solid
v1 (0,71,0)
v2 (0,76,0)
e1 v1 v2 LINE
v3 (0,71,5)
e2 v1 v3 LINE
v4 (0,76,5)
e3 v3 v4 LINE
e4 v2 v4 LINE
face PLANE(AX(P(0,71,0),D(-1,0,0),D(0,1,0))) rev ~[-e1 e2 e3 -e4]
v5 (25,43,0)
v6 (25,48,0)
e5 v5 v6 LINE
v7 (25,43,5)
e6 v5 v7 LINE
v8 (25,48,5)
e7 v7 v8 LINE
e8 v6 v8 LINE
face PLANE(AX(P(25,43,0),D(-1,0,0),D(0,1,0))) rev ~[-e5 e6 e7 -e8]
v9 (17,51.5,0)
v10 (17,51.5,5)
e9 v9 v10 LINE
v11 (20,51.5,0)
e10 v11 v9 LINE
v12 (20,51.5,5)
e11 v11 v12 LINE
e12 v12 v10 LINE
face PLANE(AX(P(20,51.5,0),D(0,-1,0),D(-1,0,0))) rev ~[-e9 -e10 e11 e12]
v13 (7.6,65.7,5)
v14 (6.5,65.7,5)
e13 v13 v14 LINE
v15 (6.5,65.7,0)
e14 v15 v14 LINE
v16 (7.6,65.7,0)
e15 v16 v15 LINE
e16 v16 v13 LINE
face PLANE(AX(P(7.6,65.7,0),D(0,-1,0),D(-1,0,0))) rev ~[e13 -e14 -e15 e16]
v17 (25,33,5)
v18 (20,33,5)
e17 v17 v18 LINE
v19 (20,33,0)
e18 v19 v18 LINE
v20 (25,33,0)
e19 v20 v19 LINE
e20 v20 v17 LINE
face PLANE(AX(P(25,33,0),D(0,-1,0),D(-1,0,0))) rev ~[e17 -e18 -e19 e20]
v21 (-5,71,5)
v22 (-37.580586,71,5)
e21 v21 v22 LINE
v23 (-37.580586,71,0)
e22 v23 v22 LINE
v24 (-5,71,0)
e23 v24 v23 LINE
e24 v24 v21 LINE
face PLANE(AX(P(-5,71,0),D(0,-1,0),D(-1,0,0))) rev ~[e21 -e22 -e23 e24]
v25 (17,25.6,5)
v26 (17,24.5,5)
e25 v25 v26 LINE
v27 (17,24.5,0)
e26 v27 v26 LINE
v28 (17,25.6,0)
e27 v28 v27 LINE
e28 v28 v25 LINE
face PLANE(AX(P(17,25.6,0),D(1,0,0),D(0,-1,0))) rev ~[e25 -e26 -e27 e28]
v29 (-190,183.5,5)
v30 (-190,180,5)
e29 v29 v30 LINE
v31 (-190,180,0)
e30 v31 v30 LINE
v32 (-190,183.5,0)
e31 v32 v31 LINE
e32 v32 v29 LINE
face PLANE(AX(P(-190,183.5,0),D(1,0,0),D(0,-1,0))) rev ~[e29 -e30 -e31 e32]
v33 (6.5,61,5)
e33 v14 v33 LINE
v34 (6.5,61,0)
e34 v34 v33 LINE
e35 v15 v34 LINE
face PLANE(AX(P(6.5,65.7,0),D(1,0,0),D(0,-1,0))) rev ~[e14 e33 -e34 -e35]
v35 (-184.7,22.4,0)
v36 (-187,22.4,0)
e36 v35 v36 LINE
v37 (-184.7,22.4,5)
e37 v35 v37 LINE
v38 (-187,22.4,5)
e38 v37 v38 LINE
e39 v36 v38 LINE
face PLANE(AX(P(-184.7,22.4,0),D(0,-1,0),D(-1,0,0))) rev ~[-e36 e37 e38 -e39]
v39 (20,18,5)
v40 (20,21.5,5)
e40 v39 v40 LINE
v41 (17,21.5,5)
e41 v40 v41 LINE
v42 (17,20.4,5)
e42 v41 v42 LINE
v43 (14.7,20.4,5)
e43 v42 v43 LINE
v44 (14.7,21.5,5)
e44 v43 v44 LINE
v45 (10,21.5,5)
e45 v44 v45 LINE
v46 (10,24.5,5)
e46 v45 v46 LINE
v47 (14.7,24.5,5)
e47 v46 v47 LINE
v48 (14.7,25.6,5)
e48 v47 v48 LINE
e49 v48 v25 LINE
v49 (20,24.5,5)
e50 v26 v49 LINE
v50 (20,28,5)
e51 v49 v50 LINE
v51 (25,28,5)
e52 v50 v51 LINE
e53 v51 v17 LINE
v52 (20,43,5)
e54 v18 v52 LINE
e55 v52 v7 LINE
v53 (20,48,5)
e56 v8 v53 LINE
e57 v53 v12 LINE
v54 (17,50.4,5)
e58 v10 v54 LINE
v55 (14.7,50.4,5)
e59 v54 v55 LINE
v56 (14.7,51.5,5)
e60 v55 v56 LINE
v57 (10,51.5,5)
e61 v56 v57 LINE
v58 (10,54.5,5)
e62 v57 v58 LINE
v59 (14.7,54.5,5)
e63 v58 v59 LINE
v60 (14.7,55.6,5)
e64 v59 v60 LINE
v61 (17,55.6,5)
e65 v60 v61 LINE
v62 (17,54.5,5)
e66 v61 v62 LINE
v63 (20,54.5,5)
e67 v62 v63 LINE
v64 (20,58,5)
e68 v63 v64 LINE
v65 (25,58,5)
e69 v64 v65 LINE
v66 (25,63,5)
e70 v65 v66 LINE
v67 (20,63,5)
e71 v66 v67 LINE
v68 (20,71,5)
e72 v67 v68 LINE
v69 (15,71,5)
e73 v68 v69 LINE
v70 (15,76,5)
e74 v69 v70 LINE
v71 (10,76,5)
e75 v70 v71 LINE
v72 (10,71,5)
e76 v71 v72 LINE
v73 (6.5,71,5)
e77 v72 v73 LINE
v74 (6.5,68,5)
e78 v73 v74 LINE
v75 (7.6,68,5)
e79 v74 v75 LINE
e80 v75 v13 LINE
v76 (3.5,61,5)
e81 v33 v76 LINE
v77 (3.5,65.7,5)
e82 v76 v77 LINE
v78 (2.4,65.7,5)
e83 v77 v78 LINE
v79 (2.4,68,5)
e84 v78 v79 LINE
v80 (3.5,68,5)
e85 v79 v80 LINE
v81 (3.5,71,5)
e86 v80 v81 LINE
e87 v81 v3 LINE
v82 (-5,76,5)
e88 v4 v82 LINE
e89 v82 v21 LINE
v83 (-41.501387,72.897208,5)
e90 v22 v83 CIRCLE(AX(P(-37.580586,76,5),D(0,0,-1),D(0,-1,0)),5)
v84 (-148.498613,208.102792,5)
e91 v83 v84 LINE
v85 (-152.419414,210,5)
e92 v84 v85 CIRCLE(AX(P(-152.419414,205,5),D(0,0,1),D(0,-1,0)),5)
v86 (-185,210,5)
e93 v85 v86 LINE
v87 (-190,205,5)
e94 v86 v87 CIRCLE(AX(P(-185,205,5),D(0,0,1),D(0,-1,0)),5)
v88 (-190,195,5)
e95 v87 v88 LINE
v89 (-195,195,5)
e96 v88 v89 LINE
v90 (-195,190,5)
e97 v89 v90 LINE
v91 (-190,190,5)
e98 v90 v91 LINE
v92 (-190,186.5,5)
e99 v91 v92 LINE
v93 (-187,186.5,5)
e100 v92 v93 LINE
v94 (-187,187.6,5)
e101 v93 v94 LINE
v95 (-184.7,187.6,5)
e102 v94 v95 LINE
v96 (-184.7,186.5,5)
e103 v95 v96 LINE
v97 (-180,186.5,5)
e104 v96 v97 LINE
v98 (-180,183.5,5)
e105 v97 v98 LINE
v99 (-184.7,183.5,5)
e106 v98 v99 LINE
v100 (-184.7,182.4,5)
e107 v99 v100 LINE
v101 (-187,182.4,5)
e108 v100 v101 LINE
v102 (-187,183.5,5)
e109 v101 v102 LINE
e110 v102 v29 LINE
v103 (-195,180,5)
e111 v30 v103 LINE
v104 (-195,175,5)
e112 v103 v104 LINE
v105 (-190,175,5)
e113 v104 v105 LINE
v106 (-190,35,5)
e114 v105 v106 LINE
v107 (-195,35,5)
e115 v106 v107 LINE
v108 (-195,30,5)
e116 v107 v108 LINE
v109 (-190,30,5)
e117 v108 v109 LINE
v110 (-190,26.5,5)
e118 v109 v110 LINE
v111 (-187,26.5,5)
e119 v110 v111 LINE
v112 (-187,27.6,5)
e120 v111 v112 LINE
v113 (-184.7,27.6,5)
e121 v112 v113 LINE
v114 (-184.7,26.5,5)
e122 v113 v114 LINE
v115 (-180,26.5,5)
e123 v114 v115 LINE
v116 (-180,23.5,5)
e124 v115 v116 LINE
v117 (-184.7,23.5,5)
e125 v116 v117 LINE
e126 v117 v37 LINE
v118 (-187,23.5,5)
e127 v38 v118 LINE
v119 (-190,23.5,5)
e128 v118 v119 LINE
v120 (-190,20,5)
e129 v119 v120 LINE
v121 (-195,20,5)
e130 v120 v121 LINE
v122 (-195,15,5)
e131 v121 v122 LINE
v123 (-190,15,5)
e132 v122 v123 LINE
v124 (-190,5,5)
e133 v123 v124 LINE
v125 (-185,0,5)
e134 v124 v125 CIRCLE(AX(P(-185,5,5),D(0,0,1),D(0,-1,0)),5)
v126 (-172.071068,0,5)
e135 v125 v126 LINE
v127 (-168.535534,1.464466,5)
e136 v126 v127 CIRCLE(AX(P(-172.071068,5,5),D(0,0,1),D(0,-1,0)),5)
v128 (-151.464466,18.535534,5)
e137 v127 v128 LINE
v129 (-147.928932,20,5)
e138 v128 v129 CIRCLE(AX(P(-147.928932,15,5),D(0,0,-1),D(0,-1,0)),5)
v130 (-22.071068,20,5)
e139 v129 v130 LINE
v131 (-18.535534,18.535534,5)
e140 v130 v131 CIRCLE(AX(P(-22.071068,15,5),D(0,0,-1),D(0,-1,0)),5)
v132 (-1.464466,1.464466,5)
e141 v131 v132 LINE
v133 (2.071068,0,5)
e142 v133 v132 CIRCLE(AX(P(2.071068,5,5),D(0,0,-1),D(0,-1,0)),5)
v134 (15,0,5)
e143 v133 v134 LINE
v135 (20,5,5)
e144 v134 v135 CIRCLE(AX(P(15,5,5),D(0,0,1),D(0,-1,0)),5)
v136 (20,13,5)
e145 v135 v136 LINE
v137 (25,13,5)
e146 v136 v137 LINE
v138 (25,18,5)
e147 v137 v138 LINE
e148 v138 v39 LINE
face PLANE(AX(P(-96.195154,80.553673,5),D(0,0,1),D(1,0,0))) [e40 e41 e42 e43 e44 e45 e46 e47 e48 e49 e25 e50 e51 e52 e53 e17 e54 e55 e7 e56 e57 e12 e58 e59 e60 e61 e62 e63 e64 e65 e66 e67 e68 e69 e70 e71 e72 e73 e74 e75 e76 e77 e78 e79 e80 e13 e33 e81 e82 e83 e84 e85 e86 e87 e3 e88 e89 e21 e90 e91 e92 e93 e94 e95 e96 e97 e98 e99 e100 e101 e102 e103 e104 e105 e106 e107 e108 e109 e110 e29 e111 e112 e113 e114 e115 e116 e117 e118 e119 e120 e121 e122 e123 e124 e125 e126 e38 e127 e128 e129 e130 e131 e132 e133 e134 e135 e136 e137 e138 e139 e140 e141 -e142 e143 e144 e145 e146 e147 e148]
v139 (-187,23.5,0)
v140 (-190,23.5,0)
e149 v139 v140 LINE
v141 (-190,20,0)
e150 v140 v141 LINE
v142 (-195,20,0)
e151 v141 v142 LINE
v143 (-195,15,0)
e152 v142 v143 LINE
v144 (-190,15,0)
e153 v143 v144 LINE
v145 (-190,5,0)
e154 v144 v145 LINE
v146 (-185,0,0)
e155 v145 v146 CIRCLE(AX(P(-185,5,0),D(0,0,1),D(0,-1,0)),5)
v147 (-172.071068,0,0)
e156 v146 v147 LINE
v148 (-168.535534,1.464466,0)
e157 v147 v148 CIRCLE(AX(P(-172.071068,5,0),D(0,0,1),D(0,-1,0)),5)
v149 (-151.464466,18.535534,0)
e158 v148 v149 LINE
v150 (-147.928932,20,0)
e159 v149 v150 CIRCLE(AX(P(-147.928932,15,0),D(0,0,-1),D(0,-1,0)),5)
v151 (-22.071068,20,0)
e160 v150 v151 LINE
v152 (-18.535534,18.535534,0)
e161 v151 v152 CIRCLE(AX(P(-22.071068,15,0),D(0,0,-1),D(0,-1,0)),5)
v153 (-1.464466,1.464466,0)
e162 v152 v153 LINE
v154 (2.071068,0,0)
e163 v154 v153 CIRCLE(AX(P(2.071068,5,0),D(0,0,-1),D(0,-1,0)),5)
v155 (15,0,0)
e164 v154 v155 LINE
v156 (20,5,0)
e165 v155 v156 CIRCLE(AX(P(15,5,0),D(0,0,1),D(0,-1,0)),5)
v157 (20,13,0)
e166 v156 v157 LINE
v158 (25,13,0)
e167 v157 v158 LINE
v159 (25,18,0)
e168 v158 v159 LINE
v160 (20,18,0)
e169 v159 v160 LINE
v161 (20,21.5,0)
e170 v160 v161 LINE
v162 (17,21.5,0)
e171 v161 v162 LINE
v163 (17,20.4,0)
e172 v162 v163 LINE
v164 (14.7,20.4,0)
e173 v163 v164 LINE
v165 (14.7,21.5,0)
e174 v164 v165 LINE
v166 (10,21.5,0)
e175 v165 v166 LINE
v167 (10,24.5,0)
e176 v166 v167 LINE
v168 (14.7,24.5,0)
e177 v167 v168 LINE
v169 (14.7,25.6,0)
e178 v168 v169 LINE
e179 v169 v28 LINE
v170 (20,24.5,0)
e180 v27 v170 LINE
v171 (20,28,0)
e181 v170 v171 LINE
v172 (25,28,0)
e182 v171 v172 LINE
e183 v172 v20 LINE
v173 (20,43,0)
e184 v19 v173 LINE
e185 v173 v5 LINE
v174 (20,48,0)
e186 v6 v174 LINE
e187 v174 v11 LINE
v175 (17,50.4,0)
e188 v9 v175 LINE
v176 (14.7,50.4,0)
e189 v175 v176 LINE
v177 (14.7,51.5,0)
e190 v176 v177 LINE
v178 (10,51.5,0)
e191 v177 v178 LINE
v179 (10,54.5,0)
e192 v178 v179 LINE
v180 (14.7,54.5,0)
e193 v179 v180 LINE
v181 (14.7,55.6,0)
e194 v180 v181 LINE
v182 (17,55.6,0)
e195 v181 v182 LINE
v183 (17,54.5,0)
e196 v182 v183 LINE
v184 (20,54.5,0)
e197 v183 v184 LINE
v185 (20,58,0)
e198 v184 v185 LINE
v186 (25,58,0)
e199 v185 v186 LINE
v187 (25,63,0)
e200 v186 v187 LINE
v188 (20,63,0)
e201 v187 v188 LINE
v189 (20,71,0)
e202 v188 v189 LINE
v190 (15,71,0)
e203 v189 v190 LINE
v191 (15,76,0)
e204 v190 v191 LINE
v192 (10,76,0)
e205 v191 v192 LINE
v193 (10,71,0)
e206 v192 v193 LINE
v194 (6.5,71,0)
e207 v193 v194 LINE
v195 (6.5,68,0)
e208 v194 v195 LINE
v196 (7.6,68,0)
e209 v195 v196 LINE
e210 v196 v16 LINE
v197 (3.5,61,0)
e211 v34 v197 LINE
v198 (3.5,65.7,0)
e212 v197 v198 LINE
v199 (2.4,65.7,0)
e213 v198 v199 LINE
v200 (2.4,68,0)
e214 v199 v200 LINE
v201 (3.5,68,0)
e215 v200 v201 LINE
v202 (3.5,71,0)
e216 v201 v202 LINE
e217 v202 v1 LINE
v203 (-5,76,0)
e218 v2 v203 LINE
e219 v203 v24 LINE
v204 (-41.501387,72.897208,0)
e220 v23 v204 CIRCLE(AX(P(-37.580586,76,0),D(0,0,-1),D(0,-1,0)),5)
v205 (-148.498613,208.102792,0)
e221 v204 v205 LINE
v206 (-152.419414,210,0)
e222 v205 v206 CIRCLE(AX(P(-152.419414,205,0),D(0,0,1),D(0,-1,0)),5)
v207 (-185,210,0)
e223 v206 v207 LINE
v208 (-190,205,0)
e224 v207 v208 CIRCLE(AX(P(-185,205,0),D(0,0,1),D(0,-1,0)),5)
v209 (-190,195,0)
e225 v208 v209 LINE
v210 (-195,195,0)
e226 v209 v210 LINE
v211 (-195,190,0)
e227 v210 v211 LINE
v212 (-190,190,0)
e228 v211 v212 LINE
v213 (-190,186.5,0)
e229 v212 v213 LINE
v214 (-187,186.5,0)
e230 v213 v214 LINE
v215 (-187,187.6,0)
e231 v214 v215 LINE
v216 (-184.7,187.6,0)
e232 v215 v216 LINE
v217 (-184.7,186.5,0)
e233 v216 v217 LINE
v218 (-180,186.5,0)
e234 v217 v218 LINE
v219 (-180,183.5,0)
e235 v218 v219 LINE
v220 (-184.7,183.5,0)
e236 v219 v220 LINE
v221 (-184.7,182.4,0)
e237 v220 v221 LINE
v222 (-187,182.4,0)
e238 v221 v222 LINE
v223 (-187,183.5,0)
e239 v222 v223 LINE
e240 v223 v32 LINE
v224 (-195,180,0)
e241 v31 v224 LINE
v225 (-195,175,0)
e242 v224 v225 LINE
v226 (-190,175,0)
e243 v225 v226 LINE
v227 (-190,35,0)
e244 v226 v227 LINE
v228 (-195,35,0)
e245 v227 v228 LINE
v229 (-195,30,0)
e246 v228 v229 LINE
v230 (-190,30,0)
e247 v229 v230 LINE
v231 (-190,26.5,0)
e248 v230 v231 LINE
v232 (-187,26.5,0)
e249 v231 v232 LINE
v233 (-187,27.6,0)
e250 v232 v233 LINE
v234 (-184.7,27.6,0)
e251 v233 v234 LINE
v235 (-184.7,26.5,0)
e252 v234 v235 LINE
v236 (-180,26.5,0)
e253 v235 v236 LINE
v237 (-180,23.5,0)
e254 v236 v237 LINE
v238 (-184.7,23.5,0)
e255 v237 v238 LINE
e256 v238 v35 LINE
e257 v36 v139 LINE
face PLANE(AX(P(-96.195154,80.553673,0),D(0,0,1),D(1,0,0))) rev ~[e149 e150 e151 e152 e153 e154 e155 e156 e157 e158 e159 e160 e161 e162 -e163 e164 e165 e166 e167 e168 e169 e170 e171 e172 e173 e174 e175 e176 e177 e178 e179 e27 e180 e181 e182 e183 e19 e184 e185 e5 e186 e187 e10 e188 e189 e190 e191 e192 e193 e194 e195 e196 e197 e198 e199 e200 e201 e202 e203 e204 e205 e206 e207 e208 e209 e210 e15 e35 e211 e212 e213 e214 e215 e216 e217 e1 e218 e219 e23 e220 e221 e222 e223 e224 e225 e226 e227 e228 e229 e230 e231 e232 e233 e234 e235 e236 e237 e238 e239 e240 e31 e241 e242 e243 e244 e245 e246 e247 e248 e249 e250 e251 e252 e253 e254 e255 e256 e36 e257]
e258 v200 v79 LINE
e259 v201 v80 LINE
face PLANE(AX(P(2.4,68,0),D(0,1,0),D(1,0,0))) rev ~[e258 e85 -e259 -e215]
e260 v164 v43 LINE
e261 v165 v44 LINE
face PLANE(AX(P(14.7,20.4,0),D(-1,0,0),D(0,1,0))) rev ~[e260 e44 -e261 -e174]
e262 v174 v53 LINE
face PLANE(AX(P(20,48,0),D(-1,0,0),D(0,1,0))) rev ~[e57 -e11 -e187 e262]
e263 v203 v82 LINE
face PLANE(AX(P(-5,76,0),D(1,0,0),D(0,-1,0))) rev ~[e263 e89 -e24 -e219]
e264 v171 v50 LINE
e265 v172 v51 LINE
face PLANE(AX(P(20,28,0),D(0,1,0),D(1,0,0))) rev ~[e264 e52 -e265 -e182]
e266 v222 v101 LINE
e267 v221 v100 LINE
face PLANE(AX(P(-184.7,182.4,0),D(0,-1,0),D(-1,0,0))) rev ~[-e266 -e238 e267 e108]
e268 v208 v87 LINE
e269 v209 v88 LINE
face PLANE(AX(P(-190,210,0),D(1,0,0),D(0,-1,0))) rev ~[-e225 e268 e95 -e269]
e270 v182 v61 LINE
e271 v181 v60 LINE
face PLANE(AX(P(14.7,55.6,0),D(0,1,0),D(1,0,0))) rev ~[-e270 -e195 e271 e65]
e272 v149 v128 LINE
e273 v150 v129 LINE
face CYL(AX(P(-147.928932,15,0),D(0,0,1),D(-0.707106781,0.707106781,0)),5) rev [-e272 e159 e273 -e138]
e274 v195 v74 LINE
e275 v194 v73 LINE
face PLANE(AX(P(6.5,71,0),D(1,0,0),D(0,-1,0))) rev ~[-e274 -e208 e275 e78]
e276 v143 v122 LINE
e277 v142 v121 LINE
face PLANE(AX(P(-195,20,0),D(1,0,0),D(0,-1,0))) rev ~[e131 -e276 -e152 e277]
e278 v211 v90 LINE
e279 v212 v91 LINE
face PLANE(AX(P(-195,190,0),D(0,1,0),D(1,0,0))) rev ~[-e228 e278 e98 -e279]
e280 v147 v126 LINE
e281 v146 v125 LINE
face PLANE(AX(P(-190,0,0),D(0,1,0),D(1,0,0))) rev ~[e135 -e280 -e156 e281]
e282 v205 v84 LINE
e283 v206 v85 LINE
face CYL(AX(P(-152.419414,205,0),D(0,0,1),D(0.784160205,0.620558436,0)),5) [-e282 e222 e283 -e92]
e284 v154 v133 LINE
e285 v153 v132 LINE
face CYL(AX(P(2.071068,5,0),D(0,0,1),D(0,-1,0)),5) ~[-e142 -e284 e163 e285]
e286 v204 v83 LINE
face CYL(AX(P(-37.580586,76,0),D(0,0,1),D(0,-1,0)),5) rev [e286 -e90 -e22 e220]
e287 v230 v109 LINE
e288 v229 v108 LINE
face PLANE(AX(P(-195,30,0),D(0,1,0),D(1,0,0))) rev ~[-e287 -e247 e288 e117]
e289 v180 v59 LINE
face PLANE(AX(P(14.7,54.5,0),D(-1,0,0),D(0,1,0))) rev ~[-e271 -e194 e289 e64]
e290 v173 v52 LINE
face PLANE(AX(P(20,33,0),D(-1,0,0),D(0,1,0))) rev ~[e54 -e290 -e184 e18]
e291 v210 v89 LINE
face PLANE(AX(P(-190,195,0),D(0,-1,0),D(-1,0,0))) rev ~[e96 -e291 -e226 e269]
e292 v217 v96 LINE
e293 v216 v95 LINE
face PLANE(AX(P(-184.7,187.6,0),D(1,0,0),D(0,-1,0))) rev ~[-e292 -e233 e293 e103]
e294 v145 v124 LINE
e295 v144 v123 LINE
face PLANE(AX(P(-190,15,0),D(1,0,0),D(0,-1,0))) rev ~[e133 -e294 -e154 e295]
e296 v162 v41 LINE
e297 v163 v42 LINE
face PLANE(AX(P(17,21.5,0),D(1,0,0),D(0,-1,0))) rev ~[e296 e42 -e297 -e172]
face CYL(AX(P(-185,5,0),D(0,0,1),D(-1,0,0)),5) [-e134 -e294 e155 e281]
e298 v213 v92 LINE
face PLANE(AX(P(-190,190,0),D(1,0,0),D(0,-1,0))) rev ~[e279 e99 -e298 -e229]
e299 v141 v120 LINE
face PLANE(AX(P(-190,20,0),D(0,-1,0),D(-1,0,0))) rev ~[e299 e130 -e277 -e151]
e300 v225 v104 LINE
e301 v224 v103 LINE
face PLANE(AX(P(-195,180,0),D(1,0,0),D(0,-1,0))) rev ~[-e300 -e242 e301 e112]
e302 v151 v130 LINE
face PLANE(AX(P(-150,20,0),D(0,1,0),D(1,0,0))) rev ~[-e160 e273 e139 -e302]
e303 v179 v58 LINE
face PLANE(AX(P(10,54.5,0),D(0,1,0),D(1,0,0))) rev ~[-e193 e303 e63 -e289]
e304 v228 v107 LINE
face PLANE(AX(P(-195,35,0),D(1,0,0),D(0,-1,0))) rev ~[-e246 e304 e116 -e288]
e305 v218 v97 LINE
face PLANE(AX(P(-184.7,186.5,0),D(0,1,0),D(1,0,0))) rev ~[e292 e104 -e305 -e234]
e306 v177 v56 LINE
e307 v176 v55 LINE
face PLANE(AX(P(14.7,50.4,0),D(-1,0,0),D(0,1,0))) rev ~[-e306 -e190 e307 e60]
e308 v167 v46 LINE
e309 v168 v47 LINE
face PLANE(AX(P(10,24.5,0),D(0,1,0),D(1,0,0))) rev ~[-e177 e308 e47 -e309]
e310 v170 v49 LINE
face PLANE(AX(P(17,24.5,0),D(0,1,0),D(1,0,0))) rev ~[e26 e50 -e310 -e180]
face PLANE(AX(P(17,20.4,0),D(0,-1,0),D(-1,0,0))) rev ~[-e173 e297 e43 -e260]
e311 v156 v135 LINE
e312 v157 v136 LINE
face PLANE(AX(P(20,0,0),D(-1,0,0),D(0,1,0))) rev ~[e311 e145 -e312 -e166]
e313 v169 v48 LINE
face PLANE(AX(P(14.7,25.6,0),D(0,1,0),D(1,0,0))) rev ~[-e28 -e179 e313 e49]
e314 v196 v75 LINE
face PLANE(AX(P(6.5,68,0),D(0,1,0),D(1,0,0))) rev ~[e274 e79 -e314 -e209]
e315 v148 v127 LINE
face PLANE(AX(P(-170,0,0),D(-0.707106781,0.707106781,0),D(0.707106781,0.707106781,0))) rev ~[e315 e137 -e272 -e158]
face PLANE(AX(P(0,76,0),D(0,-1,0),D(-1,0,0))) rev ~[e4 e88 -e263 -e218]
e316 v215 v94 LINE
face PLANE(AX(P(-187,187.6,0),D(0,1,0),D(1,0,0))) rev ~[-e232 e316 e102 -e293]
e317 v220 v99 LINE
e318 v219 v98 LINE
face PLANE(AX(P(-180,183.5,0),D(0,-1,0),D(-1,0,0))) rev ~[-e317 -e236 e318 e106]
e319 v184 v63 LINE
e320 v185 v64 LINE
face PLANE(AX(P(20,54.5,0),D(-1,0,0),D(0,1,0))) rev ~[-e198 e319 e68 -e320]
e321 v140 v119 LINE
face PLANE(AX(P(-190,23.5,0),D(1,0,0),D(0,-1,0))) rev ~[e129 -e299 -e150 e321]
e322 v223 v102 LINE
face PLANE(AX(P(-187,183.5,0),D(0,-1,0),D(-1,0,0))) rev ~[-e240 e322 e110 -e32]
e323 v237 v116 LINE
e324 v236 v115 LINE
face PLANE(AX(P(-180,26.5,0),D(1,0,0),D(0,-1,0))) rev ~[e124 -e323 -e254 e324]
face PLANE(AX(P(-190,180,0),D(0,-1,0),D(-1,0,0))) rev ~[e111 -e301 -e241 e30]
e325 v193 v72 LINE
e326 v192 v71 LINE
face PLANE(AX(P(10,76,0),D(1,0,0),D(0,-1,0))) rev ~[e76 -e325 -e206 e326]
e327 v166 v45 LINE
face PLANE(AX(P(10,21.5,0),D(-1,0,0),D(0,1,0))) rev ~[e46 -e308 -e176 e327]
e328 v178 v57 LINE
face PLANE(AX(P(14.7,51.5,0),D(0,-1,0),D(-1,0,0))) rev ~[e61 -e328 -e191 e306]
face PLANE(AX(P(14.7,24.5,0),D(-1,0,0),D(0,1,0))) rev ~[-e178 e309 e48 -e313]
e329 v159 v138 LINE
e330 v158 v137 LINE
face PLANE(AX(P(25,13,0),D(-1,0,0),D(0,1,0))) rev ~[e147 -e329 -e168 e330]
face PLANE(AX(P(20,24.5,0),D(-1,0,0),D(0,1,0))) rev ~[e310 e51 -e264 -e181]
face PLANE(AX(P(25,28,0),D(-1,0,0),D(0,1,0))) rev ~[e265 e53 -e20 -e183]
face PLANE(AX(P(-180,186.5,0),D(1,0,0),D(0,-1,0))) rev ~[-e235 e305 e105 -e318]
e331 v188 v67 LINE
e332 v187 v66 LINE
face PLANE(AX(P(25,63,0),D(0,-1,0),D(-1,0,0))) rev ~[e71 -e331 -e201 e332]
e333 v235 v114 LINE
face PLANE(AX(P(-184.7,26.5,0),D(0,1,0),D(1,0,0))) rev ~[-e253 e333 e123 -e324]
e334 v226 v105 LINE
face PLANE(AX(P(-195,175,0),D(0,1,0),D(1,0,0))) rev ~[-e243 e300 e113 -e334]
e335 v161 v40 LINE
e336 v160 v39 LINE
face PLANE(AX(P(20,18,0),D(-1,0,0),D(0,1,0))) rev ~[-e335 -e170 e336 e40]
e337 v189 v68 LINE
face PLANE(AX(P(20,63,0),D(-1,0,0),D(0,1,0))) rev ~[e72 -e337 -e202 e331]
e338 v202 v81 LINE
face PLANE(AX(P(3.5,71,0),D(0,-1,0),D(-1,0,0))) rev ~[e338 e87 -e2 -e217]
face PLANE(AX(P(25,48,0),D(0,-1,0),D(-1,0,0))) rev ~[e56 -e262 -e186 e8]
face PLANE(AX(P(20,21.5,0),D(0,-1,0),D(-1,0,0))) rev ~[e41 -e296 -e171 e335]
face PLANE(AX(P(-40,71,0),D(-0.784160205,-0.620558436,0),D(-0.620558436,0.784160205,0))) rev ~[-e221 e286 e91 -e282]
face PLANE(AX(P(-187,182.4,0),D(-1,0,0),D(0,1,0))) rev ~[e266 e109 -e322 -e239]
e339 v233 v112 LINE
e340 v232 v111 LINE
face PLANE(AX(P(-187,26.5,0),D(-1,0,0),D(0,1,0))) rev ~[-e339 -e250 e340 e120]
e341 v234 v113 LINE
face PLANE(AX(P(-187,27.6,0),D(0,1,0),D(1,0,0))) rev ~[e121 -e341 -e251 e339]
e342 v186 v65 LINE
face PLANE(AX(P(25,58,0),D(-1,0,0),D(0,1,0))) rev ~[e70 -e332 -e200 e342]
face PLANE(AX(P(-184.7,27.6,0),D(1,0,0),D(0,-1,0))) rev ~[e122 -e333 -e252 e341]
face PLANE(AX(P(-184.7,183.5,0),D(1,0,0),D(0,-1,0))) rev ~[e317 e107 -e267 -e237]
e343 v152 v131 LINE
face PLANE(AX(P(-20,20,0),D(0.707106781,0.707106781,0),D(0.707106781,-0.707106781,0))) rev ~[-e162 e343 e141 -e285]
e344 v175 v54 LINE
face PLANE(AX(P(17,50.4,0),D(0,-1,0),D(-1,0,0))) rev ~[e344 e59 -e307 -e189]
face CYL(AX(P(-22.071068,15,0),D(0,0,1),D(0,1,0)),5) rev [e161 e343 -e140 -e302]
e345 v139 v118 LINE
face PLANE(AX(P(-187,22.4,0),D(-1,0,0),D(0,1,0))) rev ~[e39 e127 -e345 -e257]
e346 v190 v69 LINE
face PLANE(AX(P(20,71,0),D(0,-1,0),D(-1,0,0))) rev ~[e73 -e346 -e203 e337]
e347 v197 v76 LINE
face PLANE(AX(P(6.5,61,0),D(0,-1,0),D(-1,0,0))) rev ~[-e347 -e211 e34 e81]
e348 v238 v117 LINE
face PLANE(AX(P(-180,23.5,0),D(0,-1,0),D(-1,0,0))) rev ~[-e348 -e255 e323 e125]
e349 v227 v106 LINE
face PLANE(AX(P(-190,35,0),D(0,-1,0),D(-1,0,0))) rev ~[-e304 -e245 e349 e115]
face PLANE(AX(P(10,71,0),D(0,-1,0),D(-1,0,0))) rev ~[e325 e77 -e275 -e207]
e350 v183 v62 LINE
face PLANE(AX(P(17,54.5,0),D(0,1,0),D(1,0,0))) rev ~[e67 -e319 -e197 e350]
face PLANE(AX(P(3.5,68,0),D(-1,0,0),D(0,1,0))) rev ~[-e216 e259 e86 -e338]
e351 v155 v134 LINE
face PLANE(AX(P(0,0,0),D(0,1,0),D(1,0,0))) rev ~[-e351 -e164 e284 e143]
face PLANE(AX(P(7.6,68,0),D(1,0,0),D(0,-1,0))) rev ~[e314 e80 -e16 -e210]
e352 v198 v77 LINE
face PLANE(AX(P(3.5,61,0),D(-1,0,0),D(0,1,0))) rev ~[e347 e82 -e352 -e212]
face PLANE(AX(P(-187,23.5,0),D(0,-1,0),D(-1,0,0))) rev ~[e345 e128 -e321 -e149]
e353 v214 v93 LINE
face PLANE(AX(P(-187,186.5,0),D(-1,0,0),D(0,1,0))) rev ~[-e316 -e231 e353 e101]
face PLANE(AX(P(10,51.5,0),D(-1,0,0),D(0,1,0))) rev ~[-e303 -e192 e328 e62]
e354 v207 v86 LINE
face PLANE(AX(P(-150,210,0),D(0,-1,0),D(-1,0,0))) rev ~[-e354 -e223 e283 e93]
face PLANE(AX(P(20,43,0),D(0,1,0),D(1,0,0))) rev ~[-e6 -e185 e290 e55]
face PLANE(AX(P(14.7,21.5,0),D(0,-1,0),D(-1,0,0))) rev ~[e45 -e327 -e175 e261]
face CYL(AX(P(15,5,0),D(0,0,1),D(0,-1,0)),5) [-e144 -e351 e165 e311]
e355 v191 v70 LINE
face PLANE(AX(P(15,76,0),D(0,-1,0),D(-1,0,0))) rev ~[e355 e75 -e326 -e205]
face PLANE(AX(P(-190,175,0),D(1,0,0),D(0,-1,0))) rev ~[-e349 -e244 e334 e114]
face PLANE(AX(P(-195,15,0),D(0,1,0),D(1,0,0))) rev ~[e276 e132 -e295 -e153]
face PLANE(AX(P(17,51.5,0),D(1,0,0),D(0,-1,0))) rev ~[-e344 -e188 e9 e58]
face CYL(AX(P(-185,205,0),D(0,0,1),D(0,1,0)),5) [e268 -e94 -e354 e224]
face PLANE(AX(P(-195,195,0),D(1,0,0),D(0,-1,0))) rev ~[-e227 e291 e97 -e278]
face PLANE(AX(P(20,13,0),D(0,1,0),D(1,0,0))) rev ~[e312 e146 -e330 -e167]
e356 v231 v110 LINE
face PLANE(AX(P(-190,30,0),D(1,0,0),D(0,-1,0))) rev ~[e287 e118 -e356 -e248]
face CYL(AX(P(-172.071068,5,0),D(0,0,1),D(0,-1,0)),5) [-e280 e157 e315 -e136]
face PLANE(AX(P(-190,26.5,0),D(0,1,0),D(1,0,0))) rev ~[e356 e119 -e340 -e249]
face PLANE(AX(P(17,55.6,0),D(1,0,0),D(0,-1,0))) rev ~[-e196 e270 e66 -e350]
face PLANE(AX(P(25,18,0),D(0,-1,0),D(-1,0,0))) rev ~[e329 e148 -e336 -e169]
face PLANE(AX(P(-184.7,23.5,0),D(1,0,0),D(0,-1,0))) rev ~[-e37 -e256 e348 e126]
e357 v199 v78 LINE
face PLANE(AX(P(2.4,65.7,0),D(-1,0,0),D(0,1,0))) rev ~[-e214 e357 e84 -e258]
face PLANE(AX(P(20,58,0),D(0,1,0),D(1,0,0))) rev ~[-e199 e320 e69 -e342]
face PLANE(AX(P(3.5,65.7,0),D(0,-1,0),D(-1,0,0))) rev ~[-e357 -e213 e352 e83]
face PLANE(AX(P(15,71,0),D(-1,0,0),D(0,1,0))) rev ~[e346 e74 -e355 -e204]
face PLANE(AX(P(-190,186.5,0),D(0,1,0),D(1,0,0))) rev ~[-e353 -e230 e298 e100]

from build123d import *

# Parameters (mm, degrees)
BOSS_EXTRU_1_DEPTH = 5
CONG_1_R           = 5


with BuildPart() as part:
    # Esquisse1 → Boss.-Extru.1 (new body)
    with BuildSketch(Plane.XY):
        Polygon((0, 0), (20, 0), (20, 13), (25, 13), (25, 18), (20, 18), (20, 21.5), (17, 21.5), (17, 20.4), (14.7, 20.4), (14.7, 21.5), (10, 21.5), (10, 24.5), (14.7, 24.5), (14.7, 25.6), (17, 25.6), (17, 24.5), (20, 24.5), (20, 28), (25, 28), (25, 33), (20, 33), (20, 43), (25, 43), (25, 48), (20, 48), (20, 51.5), (17, 51.5), (17, 50.4), (14.7, 50.4), (14.7, 51.5), (10, 51.5), (10, 54.5), (14.7, 54.5), (14.7, 55.6), (17, 55.6), (17, 54.5), (20, 54.5), (20, 58), (25, 58), (25, 63), (20, 63), (20, 71), (15, 71), (15, 76), (10, 76), (10, 71), (6.5, 71), (6.5, 68), (7.6, 68), (7.6, 65.7), (6.5, 65.7), (6.5, 61), (3.5, 61), (3.5, 65.7), (2.4, 65.7), (2.4, 68), (3.5, 68), (3.5, 71), (0, 71), (0, 76), (-5, 76), (-5, 71), (-40, 71), (-150, 210), (-190, 210), (-190, 195), (-195, 195), (-195, 190), (-190, 190), (-190, 186.5), (-187, 186.5), (-187, 187.6), (-184.7, 187.6), (-184.7, 186.5), (-180, 186.5), (-180, 183.5), (-184.7, 183.5), (-184.7, 182.4), (-187, 182.4), (-187, 183.5), (-190, 183.5), (-190, 180), (-195, 180), (-195, 175), (-190, 175), (-190, 35), (-195, 35), (-195, 30), (-190, 30), (-190, 26.5), (-187, 26.5), (-187, 27.6), (-184.7, 27.6), (-184.7, 26.5), (-180, 26.5), (-180, 23.5), (-184.7, 23.5), (-184.7, 22.4), (-187, 22.4), (-187, 23.5), (-190, 23.5), (-190, 20), (-195, 20), (-195, 15), (-190, 15), (-190, 0), (-170, 0), (-150, 20), (-20, 20), align=None)
    extrude(amount=BOSS_EXTRU_1_DEPTH)

    # Congé1
    cong_1_edges = [part.edges().sort_by_distance(p)[0] for p in [
        (20, 0, 2.5),
        (0, 0, 2.5),
        (-20, 20, 2.5),
        (-150, 20, 2.5),
        (-170, 0, 2.5),
        (-190, 0, 2.5),
        (-190, 210, 2.5),
        (-150, 210, 2.5),
        (-40, 71, 2.5),
    ]]
    fillet(cong_1_edges, radius=CONG_1_R)


solid = part.part
